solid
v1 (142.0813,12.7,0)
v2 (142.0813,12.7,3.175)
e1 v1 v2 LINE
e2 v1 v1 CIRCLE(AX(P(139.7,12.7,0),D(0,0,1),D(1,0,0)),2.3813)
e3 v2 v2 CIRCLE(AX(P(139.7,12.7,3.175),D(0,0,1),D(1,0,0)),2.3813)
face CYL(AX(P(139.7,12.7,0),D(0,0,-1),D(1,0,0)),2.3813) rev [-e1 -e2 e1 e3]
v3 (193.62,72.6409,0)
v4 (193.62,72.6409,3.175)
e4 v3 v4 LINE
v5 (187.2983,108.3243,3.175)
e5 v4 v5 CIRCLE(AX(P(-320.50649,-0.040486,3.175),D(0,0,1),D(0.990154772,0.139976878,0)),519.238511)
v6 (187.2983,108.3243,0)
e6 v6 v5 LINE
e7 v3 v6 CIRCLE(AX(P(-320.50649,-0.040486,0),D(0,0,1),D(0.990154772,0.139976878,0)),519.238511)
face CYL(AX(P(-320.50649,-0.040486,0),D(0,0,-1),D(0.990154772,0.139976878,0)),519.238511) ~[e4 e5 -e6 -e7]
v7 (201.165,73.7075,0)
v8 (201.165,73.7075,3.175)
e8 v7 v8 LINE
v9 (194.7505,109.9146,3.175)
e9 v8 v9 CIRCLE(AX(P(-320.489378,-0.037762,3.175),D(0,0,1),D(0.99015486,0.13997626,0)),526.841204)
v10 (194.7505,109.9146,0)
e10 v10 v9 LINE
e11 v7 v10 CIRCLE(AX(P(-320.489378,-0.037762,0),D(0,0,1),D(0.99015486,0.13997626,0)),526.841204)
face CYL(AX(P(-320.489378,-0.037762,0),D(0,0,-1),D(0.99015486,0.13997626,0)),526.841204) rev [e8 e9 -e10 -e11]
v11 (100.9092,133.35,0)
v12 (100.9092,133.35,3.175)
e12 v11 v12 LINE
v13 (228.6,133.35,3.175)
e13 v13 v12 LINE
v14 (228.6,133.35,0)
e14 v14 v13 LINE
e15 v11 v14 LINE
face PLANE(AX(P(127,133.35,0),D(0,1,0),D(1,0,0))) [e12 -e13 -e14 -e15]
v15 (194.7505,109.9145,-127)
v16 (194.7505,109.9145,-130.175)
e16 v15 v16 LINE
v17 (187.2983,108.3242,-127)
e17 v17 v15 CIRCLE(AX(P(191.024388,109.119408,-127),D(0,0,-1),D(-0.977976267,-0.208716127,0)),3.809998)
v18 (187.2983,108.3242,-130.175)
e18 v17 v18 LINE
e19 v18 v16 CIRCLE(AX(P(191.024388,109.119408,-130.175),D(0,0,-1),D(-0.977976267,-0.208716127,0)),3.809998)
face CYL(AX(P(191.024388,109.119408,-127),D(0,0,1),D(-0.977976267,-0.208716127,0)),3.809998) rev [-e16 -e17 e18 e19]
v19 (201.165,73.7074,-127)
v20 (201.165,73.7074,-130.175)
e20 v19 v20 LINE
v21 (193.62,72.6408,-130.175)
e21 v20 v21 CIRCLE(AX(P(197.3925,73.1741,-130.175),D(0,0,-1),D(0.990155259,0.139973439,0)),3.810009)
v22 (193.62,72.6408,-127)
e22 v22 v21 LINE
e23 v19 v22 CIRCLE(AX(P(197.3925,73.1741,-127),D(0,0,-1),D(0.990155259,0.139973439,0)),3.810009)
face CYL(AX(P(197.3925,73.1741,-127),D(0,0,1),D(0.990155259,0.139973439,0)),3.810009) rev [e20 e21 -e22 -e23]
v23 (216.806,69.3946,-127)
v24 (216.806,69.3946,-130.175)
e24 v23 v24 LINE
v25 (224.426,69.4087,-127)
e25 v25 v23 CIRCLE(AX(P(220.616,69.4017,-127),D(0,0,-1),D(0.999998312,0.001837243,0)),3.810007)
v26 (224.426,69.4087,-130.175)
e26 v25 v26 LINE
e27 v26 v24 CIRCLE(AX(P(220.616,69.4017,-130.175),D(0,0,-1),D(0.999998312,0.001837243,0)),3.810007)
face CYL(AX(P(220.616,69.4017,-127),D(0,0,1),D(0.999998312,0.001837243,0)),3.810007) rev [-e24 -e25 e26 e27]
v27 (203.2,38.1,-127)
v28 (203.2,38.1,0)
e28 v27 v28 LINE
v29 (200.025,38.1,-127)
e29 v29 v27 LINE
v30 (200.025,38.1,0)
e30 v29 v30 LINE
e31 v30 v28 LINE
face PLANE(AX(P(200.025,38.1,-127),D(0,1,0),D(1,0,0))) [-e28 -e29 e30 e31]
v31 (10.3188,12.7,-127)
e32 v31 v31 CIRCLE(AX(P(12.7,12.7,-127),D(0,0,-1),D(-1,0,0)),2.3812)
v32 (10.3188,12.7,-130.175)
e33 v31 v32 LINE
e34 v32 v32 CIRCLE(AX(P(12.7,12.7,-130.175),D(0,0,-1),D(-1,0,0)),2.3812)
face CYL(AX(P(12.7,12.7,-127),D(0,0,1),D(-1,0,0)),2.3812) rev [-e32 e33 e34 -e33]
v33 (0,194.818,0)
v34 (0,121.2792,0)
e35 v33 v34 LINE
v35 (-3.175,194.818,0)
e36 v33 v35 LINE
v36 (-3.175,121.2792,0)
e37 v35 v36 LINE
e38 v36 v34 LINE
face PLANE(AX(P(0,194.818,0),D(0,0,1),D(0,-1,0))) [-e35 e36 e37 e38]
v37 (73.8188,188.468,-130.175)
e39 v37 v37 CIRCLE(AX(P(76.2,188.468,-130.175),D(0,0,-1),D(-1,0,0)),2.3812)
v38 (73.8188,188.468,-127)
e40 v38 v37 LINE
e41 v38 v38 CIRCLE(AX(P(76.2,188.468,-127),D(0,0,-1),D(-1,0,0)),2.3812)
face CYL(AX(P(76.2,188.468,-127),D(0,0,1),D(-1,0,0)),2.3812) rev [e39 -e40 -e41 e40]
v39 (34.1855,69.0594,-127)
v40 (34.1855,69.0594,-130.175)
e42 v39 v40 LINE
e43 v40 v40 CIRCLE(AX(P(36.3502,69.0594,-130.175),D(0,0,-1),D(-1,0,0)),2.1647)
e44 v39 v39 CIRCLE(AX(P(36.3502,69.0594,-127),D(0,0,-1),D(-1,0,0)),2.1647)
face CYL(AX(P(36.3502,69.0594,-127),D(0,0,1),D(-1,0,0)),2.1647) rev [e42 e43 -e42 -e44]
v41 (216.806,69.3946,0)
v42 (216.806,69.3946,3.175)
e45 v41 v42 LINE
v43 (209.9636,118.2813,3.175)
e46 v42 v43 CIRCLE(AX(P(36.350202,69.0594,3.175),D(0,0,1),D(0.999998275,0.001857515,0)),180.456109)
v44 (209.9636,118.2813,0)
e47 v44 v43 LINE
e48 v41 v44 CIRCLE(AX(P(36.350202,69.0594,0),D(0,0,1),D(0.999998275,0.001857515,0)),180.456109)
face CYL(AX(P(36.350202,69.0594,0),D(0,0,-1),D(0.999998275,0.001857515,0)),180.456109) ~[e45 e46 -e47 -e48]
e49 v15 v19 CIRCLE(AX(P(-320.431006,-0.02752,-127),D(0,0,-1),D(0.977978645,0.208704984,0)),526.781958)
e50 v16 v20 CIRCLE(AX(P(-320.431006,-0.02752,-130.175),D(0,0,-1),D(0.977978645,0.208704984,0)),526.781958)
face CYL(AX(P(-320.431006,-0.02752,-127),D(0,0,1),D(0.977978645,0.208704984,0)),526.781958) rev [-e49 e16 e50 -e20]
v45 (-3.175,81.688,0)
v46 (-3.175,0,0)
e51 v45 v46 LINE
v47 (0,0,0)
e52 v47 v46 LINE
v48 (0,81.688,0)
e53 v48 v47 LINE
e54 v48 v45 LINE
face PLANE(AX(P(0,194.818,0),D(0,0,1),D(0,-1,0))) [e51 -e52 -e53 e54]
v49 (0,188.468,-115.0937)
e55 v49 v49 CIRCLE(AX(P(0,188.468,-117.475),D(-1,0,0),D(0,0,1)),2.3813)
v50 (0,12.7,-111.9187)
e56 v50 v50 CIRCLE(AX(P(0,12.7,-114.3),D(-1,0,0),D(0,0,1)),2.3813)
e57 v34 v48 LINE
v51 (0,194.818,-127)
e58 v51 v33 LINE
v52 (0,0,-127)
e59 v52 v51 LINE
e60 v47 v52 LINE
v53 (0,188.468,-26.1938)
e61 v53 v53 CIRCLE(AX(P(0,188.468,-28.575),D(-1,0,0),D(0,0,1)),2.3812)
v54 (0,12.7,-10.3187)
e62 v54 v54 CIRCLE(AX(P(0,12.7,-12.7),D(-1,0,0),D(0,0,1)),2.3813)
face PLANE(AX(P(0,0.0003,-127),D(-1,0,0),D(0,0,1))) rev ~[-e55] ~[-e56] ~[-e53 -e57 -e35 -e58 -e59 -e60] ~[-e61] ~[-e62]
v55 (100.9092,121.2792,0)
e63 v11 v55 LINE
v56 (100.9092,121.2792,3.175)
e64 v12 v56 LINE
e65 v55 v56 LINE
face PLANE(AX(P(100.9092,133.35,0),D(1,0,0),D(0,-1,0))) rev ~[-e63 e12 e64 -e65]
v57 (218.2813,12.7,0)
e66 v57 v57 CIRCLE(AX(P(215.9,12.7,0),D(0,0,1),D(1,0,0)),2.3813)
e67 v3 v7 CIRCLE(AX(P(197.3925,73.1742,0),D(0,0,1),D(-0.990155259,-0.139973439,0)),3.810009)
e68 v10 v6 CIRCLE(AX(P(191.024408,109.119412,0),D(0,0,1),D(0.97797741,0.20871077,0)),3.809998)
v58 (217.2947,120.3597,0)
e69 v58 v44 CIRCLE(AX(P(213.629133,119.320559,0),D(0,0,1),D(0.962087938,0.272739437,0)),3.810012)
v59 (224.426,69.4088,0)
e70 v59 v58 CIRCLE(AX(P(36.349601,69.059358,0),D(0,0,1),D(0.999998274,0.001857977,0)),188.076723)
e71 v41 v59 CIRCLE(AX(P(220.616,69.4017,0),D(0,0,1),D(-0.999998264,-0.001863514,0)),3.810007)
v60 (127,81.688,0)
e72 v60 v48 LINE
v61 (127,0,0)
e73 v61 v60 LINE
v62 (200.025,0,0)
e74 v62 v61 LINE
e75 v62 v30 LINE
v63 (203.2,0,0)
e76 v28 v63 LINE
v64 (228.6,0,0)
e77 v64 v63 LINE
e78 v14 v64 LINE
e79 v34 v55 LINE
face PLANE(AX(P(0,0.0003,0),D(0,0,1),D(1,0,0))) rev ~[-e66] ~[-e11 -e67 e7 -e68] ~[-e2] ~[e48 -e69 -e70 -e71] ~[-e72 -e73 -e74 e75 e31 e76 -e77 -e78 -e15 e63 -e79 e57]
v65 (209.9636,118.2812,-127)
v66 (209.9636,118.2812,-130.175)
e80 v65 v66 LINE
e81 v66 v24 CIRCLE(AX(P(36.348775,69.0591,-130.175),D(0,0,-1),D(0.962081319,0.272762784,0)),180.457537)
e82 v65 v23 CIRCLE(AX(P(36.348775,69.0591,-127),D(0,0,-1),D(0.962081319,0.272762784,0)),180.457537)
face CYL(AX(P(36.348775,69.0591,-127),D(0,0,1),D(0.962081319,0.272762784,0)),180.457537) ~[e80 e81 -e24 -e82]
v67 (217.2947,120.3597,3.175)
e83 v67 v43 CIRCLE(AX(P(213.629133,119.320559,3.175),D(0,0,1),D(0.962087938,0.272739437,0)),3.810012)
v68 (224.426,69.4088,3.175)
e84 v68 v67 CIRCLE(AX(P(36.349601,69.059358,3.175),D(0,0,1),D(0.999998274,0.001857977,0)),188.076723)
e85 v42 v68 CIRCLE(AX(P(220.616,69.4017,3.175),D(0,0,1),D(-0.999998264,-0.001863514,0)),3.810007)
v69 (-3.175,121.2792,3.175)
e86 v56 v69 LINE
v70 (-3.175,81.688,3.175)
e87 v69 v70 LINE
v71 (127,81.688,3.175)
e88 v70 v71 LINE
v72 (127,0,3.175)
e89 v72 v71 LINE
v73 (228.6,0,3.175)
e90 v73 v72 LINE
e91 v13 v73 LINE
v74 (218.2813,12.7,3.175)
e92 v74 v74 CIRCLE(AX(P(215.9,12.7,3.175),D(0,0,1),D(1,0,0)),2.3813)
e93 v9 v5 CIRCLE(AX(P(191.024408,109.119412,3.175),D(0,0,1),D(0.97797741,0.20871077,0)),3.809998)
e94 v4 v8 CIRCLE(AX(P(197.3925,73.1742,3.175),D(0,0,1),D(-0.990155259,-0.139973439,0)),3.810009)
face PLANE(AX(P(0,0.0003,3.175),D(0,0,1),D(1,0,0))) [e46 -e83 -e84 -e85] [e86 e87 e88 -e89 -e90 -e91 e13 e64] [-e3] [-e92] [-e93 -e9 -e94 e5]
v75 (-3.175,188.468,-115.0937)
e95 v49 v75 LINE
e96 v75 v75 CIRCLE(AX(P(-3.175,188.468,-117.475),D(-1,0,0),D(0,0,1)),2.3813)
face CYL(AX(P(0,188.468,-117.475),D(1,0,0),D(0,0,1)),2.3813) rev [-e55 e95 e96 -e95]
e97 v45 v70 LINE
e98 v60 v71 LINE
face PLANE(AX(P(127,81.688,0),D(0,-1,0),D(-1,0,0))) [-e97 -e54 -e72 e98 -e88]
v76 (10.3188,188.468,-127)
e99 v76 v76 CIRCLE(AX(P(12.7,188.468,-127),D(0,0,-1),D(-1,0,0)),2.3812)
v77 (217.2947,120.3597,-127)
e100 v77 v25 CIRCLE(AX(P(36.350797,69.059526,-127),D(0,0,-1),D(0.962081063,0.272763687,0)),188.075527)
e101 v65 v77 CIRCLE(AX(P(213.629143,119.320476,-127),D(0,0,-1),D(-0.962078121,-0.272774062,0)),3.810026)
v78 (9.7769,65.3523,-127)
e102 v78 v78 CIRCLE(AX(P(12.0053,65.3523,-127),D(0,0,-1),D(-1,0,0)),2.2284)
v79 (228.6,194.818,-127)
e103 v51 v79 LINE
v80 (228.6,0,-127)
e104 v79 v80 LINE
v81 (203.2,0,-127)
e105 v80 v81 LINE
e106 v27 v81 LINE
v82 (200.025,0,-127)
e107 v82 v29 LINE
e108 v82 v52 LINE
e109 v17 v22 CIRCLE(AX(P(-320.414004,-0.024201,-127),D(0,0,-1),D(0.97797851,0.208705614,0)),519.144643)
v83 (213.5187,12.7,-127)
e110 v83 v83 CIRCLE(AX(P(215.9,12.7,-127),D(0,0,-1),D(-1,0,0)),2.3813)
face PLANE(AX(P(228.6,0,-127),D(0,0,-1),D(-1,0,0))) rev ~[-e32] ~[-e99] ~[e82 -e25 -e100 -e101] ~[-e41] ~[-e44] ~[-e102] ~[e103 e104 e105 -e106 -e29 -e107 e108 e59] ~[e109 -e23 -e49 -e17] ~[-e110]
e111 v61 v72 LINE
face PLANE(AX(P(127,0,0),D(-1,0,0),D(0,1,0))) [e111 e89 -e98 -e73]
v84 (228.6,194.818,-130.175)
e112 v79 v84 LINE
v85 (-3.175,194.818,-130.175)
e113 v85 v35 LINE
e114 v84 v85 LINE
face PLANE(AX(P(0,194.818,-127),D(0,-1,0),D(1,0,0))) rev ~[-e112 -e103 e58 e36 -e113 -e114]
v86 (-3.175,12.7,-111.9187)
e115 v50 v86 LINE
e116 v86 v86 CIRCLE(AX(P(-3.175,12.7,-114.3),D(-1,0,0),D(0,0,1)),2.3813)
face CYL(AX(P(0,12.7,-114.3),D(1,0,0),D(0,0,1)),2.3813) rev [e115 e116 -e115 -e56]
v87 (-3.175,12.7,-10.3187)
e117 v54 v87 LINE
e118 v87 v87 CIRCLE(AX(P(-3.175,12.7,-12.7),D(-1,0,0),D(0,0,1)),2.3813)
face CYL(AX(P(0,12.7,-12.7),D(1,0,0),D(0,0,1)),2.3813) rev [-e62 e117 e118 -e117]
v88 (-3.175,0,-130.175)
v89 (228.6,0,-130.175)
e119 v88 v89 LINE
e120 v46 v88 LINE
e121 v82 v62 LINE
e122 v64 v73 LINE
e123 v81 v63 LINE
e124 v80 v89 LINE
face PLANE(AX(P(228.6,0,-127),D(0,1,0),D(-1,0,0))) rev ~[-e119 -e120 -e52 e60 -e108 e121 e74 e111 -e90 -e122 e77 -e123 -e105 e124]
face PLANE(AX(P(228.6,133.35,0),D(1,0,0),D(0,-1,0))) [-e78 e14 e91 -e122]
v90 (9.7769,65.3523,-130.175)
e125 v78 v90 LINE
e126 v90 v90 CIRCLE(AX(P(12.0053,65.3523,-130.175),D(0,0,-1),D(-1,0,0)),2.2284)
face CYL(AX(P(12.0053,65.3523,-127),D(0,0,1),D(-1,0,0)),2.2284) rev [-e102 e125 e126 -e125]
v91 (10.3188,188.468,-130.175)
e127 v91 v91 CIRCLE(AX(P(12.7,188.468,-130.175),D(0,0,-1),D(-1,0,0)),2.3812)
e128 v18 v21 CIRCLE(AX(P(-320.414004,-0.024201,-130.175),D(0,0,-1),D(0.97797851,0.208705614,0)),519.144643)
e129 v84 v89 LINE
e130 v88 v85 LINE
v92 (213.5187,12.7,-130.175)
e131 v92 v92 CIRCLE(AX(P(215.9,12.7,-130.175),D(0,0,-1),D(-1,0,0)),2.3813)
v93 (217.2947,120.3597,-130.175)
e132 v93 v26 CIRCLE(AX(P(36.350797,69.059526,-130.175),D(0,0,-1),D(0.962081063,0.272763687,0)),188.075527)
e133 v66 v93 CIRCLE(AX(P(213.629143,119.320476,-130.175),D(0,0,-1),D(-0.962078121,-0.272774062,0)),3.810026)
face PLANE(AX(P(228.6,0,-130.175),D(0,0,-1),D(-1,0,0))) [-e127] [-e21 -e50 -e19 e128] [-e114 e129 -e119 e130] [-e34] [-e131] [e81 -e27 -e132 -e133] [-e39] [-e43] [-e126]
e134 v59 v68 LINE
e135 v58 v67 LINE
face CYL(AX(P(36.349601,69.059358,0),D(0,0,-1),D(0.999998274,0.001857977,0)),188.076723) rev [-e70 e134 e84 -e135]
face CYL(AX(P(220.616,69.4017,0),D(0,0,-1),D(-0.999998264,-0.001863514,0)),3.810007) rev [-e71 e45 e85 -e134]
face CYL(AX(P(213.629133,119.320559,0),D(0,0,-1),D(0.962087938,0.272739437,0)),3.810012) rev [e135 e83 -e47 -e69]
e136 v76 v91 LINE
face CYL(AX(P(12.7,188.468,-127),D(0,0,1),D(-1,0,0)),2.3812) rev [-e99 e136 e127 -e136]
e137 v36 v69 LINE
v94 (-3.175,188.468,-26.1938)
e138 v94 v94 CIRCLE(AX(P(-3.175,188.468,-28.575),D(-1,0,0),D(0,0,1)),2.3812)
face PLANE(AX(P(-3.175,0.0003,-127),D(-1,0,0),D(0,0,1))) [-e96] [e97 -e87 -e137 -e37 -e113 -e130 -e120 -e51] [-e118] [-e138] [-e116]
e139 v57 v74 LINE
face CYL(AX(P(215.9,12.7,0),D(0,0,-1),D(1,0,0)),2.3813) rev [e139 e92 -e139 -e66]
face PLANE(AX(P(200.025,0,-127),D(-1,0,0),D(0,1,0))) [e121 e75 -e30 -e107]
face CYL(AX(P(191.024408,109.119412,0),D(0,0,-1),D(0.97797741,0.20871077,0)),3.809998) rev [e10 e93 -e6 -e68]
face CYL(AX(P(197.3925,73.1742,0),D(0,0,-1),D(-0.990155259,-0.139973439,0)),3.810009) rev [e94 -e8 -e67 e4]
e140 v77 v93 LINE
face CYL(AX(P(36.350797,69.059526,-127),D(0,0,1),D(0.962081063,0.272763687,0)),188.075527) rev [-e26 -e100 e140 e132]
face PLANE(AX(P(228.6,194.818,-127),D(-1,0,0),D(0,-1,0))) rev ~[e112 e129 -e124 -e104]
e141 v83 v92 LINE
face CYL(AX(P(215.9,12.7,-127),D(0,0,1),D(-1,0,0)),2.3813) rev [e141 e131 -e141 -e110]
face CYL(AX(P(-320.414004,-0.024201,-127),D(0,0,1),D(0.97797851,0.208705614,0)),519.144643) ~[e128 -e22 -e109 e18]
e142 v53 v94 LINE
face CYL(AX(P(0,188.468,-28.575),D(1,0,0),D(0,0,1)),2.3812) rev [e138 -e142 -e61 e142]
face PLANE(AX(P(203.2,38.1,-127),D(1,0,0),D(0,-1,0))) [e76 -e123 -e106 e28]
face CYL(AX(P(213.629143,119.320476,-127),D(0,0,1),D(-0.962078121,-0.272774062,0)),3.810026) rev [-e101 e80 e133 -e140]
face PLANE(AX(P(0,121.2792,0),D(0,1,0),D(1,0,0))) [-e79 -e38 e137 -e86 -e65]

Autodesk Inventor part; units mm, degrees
ref_plane "YZ Plane" through (0, 0, 0) normal (1, 0, 0) x (0, 1, 0)
ref_plane "XZ Plane" through (0, 0, 0) normal (0, 1, 0) x (-1, 0, 0)
ref_plane "XY Plane" through (0, 0, 0) normal (0, 0, 1) x (1, 0, 0)
ref_plane "Work Plane1" through (228.6, 0, -127) normal (0, 0, -1) x (-1, 0, 0)
sketch "Sketch5" plane through (228.6, 0, -127) normal (0, 0, -1) x (-1, 0, 0)
  line L0 (0, 0) -> (228.6, 0)
  line L1 (228.6, 0) -> (228.6, 194.818)
  line L2 (228.6, 194.818) -> (0, 194.818)
  line L3 (0, 194.818) -> (0, 0)
  circle A0 centre (549.0601, -0.0332) radius 2.1647 construction
  circle A1 centre (192.2498, 69.0594) radius 2.1647 construction
  arc A2 (37.5756, 109.1194) -> (31.2075, 73.1741) centre (549.0601, -0.0332) ccw construction
  arc A3 (33.8495, 109.9145) -> (27.435, 73.7074) centre (549.0601, -0.0332) ccw
  arc A4 (41.3017, 108.3242) -> (34.98, 72.6408) centre (549.0601, -0.0332) ccw
  arc A5 (41.3017, 108.3242) -> (33.8495, 109.9145) centre (37.5756, 109.1194) ccw
  arc A6 (27.435, 73.7074) -> (34.98, 72.6408) centre (31.2075, 73.1741) ccw
  line L4 (549.0601, -0.0332) -> (37.5756, 109.1194) construction
  line L5 (549.0601, -0.0332) -> (31.2075, 73.1741) construction
  arc A7 (14.9709, 119.3205) -> (7.984, 69.4017) centre (192.2498, 69.0594) ccw construction
  arc A8 (11.3053, 120.3597) -> (4.174, 69.4087) centre (192.2498, 69.0594) ccw
  arc A9 (18.6364, 118.2812) -> (11.794, 69.3946) centre (192.2498, 69.0594) ccw
  arc A10 (18.6364, 118.2812) -> (11.3053, 120.3597) centre (14.9709, 119.3205) ccw
  arc A11 (4.174, 69.4087) -> (11.794, 69.3946) centre (7.984, 69.4017) ccw
  circle A12 centre (192.2498, 69.0594) radius 2.1647
  circle A13 centre (216.5947, 65.3523) radius 2.2284
  line L6 (0, 0) -> (25.4, 0) construction
  line L7 (25.4, 0) -> (25.4, 25.4) construction
  line L8 (25.4, 25.4) -> (0, 25.4) construction
  line L9 (0, 25.4) -> (0, 0) construction
  line L10 (228.6, 0) -> (203.2, 0) construction
  line L11 (203.2, 0) -> (203.2, 25.4) construction
  line L12 (203.2, 25.4) -> (228.6, 25.4) construction
  line L13 (228.6, 25.4) -> (228.6, 0) construction
  line L14 (25.4, 25.4) -> (0, 0) construction
  line L15 (0, 25.4) -> (25.4, 0) construction
  line L16 (203.2, 25.4) -> (228.6, 0) construction
  line L17 (228.6, 25.4) -> (203.2, 0) construction
  circle A14 centre (12.7, 12.7) radius 2.3813
  circle A15 centre (215.9, 12.7) radius 2.3812
  line L18 (228.6, 194.818) -> (222.25, 194.818) construction
  line L19 (222.25, 194.818) -> (222.25, 169.418) construction
  line L20 (222.25, 169.418) -> (228.6, 169.418) construction
  line L21 (228.6, 169.418) -> (228.6, 194.818) construction
  line L22 (222.25, 194.818) -> (196.85, 194.818) construction
  line L23 (222.25, 169.418) -> (222.25, 194.818) construction
  line L24 (196.85, 194.818) -> (107.95, 194.818) construction
  line L25 (107.95, 194.818) -> (133.35, 194.818) construction
  line L26 (222.25, 194.818) -> (209.55, 194.818) construction
  line L27 (209.55, 194.818) -> (209.55, 182.118) construction
  line L28 (209.55, 182.118) -> (222.25, 182.118) construction
  line L29 (222.25, 182.118) -> (222.25, 194.818) construction
  line L30 (209.55, 194.818) -> (146.05, 194.818) construction
  line L31 (146.05, 194.818) -> (158.75, 194.818) construction
  line L32 (158.75, 194.818) -> (158.75, 182.118) construction
  line L33 (158.75, 182.118) -> (146.05, 182.118) construction
  line L34 (146.05, 182.118) -> (146.05, 194.818) construction
  line L35 (222.25, 194.818) -> (209.55, 182.118) construction
  line L36 (209.55, 194.818) -> (222.25, 182.118) construction
  line L37 (158.75, 194.818) -> (146.05, 182.118) construction
  line L38 (158.75, 182.118) -> (146.05, 194.818) construction
  circle A16 centre (215.9, 188.468) radius 2.3812
  circle A17 centre (152.4, 188.468) radius 2.3812
  dimension "d16" = 228.6
  dimension "d17" = 194.818
  dimension "d38" = 4
  dimension "d39" = 7.62
  dimension "d40" = 7.62
  dimension "d43" = 25.4
  dimension "d44" = 25.4
  dimension "d45" = 25.4
  dimension "d46" = 25.4
  dimension "d47" = 4.7625
  dimension "d48" = 4.7625
  dimension "d61" = 6.35
  dimension "d70" = 12.7
  dimension "d71" = 12.7
  dimension "d72" = 63.5
  dimension "d73" = 12.7
  dimension "d74" = 12.7
  dimension "d75" = 4.7625
  dimension "d76" = 4.7625
extrude "Extrusion5" add sketch "Sketch5" along normal blind 3.175
ref_plane "Work Plane2" through (0, 0.0003, -127) normal (-1, 0, 0) x (0, 0, 1)
sketch "Sketch6" plane through (0, 0.0003, -127) normal (-1, 0, 0) x (0, 0, 1)
  line L0 (-3.175, -0.0003) -> (-3.175, 194.8177) projected
  line L1 (-3.175, 194.8177) -> (127, 194.8177)
  line L2 (127, 194.8177) -> (127, -0.0003)
  line L3 (127, -0.0003) -> (-3.175, -0.0003)
  line L4 (-3.175, -0.0003) -> (-3.175, 194.8177)
  line L5 (0, -0.0003) -> (0, 194.8177) construction
  line L6 (0, -0.0003) -> (25.4, -0.0003) construction
  line L7 (25.4, -0.0003) -> (25.4, 25.3997) construction
  line L8 (25.4, 25.3997) -> (0, 25.3997) construction
  line L9 (0, 25.3997) -> (0, -0.0003) construction
  line L10 (127, -0.0003) -> (101.6, -0.0003) construction
  line L11 (101.6, -0.0003) -> (101.6, 25.3997) construction
  line L12 (101.6, 25.3997) -> (127, 25.3997) construction
  line L13 (127, 25.3997) -> (127, -0.0003) construction
  line L14 (0, -0.0003) -> (25.4, 25.3997) construction
  line L15 (0, 25.3997) -> (25.4, -0.0003) construction
  line L16 (101.6, -0.0003) -> (127, 25.3997) construction
  line L17 (101.6, 25.3997) -> (127, -0.0003) construction
  circle A0 centre (12.7, 12.6997) radius 2.3813
  circle A1 centre (114.3, 12.6997) radius 2.3813
  line L18 (0, 194.8177) -> (3.175, 194.8177) construction
  line L19 (3.175, 194.8177) -> (3.175, 169.4177) construction
  line L20 (3.175, 169.4177) -> (0, 169.4177) construction
  line L21 (0, 169.4177) -> (0, 194.8177) construction
  line L22 (3.175, 194.8177) -> (15.875, 194.8177) construction
  line L23 (15.875, 194.8177) -> (15.875, 182.1177) construction
  line L24 (15.875, 182.1177) -> (3.175, 182.1177) construction
  line L25 (3.175, 182.1177) -> (3.175, 194.8177) construction
  line L26 (15.875, 194.8177) -> (104.775, 194.8177) construction
  line L27 (104.775, 194.8177) -> (92.075, 194.8177) construction
  line L28 (92.075, 194.8177) -> (92.075, 182.1177) construction
  line L29 (92.075, 182.1177) -> (104.775, 182.1177) construction
  line L30 (104.775, 182.1177) -> (104.775, 194.8177) construction
  line L31 (3.175, 194.8177) -> (15.875, 182.1177) construction
  line L32 (3.175, 182.1177) -> (15.875, 194.8177) construction
  line L33 (92.075, 194.8177) -> (104.775, 182.1177) construction
  line L34 (104.775, 194.8177) -> (92.075, 182.1177) construction
  circle A2 centre (98.425, 188.4677) radius 2.3812
  circle A3 centre (9.525, 188.4677) radius 2.3813
  point P0 (-3.175, -0.0003)
  dimension "d49" = 25.4
  dimension "d50" = 25.4
  dimension "d51" = 25.4
  dimension "d52" = 25.4
  dimension "d53" = 4.7625
  dimension "d54" = 4.7625
  dimension "d77" = 3.175
  dimension "d78" = 25.4
  dimension "d79" = 12.7
  dimension "d80" = 12.7
  dimension "d81" = 88.9
  dimension "d82" = 12.7
  dimension "d83" = 12.7
  dimension "d84" = 4.7625
  dimension "d85" = 4.7625
extrude "Extrusion6" add sketch "Sketch6" along normal blind 3.175
ref_plane "Work Plane4" through (0, 0.0003, 0) normal (0, 0, 1) x (1, 0, 0)
sketch "Sketch7" plane through (0, 0.0003, 0) normal (0, 0, 1) x (1, 0, 0)
  line L0 (228.6, -0.0003) -> (228.6, 0) projected
  line L1 (228.6, -0.0003) -> (127, -0.0003)
  line L2 (127, -0.0003) -> (127, 194.8177)
  line L3 (127, 194.8177) -> (228.6, 194.8177)
  line L4 (228.6, 194.8177) -> (228.6, -0.0003)
  line L5 (228.6, -0.0003) -> (-3.175, -0.0003) projected
  line L6 (228.6, -0.0003) -> (127, -0.0003)
  line L7 (127, -0.0003) -> (127, 133.3497)
  line L8 (127, 133.3497) -> (228.6, 133.3497)
  line L9 (228.6, 133.3497) -> (228.6, -0.0003)
  arc A0 (217.2947, 120.3594) -> (209.9636, 118.281) centre (213.6291, 119.3202) ccw projected
  arc A1 (216.806, 69.3943) -> (209.9636, 118.281) centre (36.3502, 69.0591) ccw projected
  arc A2 (224.426, 69.4085) -> (217.2947, 120.3594) centre (36.3502, 69.0591) ccw projected
  arc A3 (216.806, 69.3943) -> (224.426, 69.4085) centre (220.616, 69.4014) ccw projected
  arc A4 (194.7505, 109.9143) -> (187.2983, 108.324) centre (191.0244, 109.1191) ccw projected
  arc A5 (193.62, 72.6406) -> (187.2983, 108.324) centre (-320.4601, -0.0334) ccw projected
  arc A6 (201.165, 73.7072) -> (194.7505, 109.9143) centre (-320.4601, -0.0334) ccw projected
  arc A7 (193.62, 72.6406) -> (201.165, 73.7072) centre (197.3925, 73.1739) ccw projected
  line L10 (127, -0.0003) -> (152.4, -0.0003) construction
  line L11 (152.4, -0.0003) -> (152.4, 25.3997) construction
  line L12 (152.4, 25.3997) -> (127, 25.3997) construction
  line L13 (127, 25.3997) -> (127, -0.0003) construction
  line L14 (228.6, 194.8177) -> (228.6, -0.0003) construction
  line L15 (228.6, -0.0003) -> (203.2, -0.0003) construction
  line L16 (203.2, -0.0003) -> (203.2, 25.3997) construction
  line L17 (203.2, 25.3997) -> (228.6, 25.3997) construction
  line L18 (228.6, 25.3997) -> (228.6, -0.0003) construction
  line L19 (127, 25.3997) -> (152.4, -0.0003) construction
  line L20 (152.4, 25.3997) -> (127, -0.0003) construction
  line L21 (228.6, -0.0003) -> (-3.175, -0.0003) construction
  line L22 (203.2, 25.3997) -> (228.6, -0.0003) construction
  line L23 (228.6, -0.0003) -> (228.6, 25.3997) construction
  line L24 (228.6, 25.3997) -> (203.2, -0.0003) construction
  circle A8 centre (139.7, 12.6997) radius 2.3813
  circle A9 centre (215.9, 12.6997) radius 2.3813
  line L25 (0, -0.0003) -> (0, 194.8177) projected
  line L26 (0, 121.2789) -> (127, 121.2789)
  line L27 (127, 121.2789) -> (127, 104.7109)
  line L28 (0, 104.7109) -> (0, 121.2789)
  line L29 (127, 133.3497) -> (100.9092, 133.3497)
  line L30 (100.9092, 133.3497) -> (100.9092, 121.2789)
  line L31 (100.9092, 121.2789) -> (127, 121.2789)
  line L32 (127, 121.2789) -> (127, 133.3497)
  line L33 (0, 121.2789) -> (127, 121.2789)
  line L34 (127, 121.2789) -> (127, 81.6877)
  line L35 (127, 81.6877) -> (0, 81.6877)
  line L36 (0, 81.6877) -> (0, 121.2789)
  line L37 (0, 121.2789) -> (-3.175, 121.2789)
  line L38 (-3.175, 121.2789) -> (-3.175, 81.6877)
  line L39 (-3.175, 81.6877) -> (0, 81.6877)
  line L40 (0, 81.6877) -> (0, 121.2789)
  point P0 (127, 133.3497)
  dimension "d22" = 101.6
  dimension "d23" = 194.818
  dimension "d26" = 101.6
  dimension "d27" = 133.35
  dimension "d55" = 25.4
  dimension "d56" = 25.4
  dimension "d57" = 25.4
  dimension "d58" = 25.4
  dimension "d59" = 4.7625
  dimension "d60" = 4.7625
extrude "Extrusion7" add sketch "Sketch7" along normal blind 3.175 contours L1 L2 L8 L4 | L35 L25 L26 L2 | L2 L26 L30 L29 | L39 L38 L37 L25
ref_plane "Work Plane3" through (0, 0.0003, 0) normal (0, 0, 1) x (1, 0, 0)
sketch "Sketch8" plane through (0, 0.0003, 0) normal (0, 0, 1) x (1, 0, 0)
  line L0 (18.6832, 91.7066) -> (0, 110.3898)
  line L1 (0, 0) -> (0, 194.8177) projected
  line L2 (18.6832, 91.7066) -> (45.1053, 91.7066) construction
  line L3 (0, 110.3898) -> (0, 113.5648) construction
  line L4 (0, 113.5648) -> (21.8582, 91.7066)
  line L5 (0, 113.5648) -> (0, 110.3898) construction
  line L6 (18.6832, 91.7066) -> (21.8582, 91.7066) construction
  line L7 (18.6832, 91.7066) -> (21.8582, 91.7066)
  line L8 (0, 113.5648) -> (0, 110.3898)
  line L9 (18.6832, 91.7066) -> (16.4382, 93.9517)
  line L10 (18.6832, 91.7066) -> (21.8582, 91.7066) construction
  line L11 (18.6832, 91.7066) -> (0, 91.7066)
  line L12 (18.6832, 91.7066) -> (37.3664, 91.7066) construction
  line L13 (0, 91.7066) -> (0, 94.8816)
  line L14 (0, 94.8816) -> (15.5082, 94.8816)
  point P0 (0, -0.0003)
  dimension "d28" = 135
  dimension "d29" = 3.175
  dimension "d30" = 45
  dimension "d31" = 3.175
  dimension "d32" = 135
  dimension "d33" = 180
  dimension "d34" = 3.175
  dimension "d35" = 90
extrude "Extrusion8" [suppressed]
sketch "Sketch10" plane through (228.6, 0, -127) normal (0, 0, 1) x (1, 0, 0)
  line L0 (0, 0) -> (-25.4, 0) construction
  line L1 (0, 0) -> (25.4, 0) construction
  line L2 (-25.4, 0) -> (-28.575, 0)
  line L3 (-28.575, 0) -> (-28.575, 38.1)
  line L4 (-28.575, 38.1) -> (-25.4, 38.1)
  line L5 (-25.4, 38.1) -> (-25.4, 0)
  point P0 (-228.6, 0)
  dimension "d86" = 25.4
  dimension "d87" = 180
  dimension "d88" = 3.175
  dimension "d89" = 38.1
extrude "Extrusion9" add sketch "Sketch10" along normal blind 127
properties part number "ShootingMech_Housing6"
